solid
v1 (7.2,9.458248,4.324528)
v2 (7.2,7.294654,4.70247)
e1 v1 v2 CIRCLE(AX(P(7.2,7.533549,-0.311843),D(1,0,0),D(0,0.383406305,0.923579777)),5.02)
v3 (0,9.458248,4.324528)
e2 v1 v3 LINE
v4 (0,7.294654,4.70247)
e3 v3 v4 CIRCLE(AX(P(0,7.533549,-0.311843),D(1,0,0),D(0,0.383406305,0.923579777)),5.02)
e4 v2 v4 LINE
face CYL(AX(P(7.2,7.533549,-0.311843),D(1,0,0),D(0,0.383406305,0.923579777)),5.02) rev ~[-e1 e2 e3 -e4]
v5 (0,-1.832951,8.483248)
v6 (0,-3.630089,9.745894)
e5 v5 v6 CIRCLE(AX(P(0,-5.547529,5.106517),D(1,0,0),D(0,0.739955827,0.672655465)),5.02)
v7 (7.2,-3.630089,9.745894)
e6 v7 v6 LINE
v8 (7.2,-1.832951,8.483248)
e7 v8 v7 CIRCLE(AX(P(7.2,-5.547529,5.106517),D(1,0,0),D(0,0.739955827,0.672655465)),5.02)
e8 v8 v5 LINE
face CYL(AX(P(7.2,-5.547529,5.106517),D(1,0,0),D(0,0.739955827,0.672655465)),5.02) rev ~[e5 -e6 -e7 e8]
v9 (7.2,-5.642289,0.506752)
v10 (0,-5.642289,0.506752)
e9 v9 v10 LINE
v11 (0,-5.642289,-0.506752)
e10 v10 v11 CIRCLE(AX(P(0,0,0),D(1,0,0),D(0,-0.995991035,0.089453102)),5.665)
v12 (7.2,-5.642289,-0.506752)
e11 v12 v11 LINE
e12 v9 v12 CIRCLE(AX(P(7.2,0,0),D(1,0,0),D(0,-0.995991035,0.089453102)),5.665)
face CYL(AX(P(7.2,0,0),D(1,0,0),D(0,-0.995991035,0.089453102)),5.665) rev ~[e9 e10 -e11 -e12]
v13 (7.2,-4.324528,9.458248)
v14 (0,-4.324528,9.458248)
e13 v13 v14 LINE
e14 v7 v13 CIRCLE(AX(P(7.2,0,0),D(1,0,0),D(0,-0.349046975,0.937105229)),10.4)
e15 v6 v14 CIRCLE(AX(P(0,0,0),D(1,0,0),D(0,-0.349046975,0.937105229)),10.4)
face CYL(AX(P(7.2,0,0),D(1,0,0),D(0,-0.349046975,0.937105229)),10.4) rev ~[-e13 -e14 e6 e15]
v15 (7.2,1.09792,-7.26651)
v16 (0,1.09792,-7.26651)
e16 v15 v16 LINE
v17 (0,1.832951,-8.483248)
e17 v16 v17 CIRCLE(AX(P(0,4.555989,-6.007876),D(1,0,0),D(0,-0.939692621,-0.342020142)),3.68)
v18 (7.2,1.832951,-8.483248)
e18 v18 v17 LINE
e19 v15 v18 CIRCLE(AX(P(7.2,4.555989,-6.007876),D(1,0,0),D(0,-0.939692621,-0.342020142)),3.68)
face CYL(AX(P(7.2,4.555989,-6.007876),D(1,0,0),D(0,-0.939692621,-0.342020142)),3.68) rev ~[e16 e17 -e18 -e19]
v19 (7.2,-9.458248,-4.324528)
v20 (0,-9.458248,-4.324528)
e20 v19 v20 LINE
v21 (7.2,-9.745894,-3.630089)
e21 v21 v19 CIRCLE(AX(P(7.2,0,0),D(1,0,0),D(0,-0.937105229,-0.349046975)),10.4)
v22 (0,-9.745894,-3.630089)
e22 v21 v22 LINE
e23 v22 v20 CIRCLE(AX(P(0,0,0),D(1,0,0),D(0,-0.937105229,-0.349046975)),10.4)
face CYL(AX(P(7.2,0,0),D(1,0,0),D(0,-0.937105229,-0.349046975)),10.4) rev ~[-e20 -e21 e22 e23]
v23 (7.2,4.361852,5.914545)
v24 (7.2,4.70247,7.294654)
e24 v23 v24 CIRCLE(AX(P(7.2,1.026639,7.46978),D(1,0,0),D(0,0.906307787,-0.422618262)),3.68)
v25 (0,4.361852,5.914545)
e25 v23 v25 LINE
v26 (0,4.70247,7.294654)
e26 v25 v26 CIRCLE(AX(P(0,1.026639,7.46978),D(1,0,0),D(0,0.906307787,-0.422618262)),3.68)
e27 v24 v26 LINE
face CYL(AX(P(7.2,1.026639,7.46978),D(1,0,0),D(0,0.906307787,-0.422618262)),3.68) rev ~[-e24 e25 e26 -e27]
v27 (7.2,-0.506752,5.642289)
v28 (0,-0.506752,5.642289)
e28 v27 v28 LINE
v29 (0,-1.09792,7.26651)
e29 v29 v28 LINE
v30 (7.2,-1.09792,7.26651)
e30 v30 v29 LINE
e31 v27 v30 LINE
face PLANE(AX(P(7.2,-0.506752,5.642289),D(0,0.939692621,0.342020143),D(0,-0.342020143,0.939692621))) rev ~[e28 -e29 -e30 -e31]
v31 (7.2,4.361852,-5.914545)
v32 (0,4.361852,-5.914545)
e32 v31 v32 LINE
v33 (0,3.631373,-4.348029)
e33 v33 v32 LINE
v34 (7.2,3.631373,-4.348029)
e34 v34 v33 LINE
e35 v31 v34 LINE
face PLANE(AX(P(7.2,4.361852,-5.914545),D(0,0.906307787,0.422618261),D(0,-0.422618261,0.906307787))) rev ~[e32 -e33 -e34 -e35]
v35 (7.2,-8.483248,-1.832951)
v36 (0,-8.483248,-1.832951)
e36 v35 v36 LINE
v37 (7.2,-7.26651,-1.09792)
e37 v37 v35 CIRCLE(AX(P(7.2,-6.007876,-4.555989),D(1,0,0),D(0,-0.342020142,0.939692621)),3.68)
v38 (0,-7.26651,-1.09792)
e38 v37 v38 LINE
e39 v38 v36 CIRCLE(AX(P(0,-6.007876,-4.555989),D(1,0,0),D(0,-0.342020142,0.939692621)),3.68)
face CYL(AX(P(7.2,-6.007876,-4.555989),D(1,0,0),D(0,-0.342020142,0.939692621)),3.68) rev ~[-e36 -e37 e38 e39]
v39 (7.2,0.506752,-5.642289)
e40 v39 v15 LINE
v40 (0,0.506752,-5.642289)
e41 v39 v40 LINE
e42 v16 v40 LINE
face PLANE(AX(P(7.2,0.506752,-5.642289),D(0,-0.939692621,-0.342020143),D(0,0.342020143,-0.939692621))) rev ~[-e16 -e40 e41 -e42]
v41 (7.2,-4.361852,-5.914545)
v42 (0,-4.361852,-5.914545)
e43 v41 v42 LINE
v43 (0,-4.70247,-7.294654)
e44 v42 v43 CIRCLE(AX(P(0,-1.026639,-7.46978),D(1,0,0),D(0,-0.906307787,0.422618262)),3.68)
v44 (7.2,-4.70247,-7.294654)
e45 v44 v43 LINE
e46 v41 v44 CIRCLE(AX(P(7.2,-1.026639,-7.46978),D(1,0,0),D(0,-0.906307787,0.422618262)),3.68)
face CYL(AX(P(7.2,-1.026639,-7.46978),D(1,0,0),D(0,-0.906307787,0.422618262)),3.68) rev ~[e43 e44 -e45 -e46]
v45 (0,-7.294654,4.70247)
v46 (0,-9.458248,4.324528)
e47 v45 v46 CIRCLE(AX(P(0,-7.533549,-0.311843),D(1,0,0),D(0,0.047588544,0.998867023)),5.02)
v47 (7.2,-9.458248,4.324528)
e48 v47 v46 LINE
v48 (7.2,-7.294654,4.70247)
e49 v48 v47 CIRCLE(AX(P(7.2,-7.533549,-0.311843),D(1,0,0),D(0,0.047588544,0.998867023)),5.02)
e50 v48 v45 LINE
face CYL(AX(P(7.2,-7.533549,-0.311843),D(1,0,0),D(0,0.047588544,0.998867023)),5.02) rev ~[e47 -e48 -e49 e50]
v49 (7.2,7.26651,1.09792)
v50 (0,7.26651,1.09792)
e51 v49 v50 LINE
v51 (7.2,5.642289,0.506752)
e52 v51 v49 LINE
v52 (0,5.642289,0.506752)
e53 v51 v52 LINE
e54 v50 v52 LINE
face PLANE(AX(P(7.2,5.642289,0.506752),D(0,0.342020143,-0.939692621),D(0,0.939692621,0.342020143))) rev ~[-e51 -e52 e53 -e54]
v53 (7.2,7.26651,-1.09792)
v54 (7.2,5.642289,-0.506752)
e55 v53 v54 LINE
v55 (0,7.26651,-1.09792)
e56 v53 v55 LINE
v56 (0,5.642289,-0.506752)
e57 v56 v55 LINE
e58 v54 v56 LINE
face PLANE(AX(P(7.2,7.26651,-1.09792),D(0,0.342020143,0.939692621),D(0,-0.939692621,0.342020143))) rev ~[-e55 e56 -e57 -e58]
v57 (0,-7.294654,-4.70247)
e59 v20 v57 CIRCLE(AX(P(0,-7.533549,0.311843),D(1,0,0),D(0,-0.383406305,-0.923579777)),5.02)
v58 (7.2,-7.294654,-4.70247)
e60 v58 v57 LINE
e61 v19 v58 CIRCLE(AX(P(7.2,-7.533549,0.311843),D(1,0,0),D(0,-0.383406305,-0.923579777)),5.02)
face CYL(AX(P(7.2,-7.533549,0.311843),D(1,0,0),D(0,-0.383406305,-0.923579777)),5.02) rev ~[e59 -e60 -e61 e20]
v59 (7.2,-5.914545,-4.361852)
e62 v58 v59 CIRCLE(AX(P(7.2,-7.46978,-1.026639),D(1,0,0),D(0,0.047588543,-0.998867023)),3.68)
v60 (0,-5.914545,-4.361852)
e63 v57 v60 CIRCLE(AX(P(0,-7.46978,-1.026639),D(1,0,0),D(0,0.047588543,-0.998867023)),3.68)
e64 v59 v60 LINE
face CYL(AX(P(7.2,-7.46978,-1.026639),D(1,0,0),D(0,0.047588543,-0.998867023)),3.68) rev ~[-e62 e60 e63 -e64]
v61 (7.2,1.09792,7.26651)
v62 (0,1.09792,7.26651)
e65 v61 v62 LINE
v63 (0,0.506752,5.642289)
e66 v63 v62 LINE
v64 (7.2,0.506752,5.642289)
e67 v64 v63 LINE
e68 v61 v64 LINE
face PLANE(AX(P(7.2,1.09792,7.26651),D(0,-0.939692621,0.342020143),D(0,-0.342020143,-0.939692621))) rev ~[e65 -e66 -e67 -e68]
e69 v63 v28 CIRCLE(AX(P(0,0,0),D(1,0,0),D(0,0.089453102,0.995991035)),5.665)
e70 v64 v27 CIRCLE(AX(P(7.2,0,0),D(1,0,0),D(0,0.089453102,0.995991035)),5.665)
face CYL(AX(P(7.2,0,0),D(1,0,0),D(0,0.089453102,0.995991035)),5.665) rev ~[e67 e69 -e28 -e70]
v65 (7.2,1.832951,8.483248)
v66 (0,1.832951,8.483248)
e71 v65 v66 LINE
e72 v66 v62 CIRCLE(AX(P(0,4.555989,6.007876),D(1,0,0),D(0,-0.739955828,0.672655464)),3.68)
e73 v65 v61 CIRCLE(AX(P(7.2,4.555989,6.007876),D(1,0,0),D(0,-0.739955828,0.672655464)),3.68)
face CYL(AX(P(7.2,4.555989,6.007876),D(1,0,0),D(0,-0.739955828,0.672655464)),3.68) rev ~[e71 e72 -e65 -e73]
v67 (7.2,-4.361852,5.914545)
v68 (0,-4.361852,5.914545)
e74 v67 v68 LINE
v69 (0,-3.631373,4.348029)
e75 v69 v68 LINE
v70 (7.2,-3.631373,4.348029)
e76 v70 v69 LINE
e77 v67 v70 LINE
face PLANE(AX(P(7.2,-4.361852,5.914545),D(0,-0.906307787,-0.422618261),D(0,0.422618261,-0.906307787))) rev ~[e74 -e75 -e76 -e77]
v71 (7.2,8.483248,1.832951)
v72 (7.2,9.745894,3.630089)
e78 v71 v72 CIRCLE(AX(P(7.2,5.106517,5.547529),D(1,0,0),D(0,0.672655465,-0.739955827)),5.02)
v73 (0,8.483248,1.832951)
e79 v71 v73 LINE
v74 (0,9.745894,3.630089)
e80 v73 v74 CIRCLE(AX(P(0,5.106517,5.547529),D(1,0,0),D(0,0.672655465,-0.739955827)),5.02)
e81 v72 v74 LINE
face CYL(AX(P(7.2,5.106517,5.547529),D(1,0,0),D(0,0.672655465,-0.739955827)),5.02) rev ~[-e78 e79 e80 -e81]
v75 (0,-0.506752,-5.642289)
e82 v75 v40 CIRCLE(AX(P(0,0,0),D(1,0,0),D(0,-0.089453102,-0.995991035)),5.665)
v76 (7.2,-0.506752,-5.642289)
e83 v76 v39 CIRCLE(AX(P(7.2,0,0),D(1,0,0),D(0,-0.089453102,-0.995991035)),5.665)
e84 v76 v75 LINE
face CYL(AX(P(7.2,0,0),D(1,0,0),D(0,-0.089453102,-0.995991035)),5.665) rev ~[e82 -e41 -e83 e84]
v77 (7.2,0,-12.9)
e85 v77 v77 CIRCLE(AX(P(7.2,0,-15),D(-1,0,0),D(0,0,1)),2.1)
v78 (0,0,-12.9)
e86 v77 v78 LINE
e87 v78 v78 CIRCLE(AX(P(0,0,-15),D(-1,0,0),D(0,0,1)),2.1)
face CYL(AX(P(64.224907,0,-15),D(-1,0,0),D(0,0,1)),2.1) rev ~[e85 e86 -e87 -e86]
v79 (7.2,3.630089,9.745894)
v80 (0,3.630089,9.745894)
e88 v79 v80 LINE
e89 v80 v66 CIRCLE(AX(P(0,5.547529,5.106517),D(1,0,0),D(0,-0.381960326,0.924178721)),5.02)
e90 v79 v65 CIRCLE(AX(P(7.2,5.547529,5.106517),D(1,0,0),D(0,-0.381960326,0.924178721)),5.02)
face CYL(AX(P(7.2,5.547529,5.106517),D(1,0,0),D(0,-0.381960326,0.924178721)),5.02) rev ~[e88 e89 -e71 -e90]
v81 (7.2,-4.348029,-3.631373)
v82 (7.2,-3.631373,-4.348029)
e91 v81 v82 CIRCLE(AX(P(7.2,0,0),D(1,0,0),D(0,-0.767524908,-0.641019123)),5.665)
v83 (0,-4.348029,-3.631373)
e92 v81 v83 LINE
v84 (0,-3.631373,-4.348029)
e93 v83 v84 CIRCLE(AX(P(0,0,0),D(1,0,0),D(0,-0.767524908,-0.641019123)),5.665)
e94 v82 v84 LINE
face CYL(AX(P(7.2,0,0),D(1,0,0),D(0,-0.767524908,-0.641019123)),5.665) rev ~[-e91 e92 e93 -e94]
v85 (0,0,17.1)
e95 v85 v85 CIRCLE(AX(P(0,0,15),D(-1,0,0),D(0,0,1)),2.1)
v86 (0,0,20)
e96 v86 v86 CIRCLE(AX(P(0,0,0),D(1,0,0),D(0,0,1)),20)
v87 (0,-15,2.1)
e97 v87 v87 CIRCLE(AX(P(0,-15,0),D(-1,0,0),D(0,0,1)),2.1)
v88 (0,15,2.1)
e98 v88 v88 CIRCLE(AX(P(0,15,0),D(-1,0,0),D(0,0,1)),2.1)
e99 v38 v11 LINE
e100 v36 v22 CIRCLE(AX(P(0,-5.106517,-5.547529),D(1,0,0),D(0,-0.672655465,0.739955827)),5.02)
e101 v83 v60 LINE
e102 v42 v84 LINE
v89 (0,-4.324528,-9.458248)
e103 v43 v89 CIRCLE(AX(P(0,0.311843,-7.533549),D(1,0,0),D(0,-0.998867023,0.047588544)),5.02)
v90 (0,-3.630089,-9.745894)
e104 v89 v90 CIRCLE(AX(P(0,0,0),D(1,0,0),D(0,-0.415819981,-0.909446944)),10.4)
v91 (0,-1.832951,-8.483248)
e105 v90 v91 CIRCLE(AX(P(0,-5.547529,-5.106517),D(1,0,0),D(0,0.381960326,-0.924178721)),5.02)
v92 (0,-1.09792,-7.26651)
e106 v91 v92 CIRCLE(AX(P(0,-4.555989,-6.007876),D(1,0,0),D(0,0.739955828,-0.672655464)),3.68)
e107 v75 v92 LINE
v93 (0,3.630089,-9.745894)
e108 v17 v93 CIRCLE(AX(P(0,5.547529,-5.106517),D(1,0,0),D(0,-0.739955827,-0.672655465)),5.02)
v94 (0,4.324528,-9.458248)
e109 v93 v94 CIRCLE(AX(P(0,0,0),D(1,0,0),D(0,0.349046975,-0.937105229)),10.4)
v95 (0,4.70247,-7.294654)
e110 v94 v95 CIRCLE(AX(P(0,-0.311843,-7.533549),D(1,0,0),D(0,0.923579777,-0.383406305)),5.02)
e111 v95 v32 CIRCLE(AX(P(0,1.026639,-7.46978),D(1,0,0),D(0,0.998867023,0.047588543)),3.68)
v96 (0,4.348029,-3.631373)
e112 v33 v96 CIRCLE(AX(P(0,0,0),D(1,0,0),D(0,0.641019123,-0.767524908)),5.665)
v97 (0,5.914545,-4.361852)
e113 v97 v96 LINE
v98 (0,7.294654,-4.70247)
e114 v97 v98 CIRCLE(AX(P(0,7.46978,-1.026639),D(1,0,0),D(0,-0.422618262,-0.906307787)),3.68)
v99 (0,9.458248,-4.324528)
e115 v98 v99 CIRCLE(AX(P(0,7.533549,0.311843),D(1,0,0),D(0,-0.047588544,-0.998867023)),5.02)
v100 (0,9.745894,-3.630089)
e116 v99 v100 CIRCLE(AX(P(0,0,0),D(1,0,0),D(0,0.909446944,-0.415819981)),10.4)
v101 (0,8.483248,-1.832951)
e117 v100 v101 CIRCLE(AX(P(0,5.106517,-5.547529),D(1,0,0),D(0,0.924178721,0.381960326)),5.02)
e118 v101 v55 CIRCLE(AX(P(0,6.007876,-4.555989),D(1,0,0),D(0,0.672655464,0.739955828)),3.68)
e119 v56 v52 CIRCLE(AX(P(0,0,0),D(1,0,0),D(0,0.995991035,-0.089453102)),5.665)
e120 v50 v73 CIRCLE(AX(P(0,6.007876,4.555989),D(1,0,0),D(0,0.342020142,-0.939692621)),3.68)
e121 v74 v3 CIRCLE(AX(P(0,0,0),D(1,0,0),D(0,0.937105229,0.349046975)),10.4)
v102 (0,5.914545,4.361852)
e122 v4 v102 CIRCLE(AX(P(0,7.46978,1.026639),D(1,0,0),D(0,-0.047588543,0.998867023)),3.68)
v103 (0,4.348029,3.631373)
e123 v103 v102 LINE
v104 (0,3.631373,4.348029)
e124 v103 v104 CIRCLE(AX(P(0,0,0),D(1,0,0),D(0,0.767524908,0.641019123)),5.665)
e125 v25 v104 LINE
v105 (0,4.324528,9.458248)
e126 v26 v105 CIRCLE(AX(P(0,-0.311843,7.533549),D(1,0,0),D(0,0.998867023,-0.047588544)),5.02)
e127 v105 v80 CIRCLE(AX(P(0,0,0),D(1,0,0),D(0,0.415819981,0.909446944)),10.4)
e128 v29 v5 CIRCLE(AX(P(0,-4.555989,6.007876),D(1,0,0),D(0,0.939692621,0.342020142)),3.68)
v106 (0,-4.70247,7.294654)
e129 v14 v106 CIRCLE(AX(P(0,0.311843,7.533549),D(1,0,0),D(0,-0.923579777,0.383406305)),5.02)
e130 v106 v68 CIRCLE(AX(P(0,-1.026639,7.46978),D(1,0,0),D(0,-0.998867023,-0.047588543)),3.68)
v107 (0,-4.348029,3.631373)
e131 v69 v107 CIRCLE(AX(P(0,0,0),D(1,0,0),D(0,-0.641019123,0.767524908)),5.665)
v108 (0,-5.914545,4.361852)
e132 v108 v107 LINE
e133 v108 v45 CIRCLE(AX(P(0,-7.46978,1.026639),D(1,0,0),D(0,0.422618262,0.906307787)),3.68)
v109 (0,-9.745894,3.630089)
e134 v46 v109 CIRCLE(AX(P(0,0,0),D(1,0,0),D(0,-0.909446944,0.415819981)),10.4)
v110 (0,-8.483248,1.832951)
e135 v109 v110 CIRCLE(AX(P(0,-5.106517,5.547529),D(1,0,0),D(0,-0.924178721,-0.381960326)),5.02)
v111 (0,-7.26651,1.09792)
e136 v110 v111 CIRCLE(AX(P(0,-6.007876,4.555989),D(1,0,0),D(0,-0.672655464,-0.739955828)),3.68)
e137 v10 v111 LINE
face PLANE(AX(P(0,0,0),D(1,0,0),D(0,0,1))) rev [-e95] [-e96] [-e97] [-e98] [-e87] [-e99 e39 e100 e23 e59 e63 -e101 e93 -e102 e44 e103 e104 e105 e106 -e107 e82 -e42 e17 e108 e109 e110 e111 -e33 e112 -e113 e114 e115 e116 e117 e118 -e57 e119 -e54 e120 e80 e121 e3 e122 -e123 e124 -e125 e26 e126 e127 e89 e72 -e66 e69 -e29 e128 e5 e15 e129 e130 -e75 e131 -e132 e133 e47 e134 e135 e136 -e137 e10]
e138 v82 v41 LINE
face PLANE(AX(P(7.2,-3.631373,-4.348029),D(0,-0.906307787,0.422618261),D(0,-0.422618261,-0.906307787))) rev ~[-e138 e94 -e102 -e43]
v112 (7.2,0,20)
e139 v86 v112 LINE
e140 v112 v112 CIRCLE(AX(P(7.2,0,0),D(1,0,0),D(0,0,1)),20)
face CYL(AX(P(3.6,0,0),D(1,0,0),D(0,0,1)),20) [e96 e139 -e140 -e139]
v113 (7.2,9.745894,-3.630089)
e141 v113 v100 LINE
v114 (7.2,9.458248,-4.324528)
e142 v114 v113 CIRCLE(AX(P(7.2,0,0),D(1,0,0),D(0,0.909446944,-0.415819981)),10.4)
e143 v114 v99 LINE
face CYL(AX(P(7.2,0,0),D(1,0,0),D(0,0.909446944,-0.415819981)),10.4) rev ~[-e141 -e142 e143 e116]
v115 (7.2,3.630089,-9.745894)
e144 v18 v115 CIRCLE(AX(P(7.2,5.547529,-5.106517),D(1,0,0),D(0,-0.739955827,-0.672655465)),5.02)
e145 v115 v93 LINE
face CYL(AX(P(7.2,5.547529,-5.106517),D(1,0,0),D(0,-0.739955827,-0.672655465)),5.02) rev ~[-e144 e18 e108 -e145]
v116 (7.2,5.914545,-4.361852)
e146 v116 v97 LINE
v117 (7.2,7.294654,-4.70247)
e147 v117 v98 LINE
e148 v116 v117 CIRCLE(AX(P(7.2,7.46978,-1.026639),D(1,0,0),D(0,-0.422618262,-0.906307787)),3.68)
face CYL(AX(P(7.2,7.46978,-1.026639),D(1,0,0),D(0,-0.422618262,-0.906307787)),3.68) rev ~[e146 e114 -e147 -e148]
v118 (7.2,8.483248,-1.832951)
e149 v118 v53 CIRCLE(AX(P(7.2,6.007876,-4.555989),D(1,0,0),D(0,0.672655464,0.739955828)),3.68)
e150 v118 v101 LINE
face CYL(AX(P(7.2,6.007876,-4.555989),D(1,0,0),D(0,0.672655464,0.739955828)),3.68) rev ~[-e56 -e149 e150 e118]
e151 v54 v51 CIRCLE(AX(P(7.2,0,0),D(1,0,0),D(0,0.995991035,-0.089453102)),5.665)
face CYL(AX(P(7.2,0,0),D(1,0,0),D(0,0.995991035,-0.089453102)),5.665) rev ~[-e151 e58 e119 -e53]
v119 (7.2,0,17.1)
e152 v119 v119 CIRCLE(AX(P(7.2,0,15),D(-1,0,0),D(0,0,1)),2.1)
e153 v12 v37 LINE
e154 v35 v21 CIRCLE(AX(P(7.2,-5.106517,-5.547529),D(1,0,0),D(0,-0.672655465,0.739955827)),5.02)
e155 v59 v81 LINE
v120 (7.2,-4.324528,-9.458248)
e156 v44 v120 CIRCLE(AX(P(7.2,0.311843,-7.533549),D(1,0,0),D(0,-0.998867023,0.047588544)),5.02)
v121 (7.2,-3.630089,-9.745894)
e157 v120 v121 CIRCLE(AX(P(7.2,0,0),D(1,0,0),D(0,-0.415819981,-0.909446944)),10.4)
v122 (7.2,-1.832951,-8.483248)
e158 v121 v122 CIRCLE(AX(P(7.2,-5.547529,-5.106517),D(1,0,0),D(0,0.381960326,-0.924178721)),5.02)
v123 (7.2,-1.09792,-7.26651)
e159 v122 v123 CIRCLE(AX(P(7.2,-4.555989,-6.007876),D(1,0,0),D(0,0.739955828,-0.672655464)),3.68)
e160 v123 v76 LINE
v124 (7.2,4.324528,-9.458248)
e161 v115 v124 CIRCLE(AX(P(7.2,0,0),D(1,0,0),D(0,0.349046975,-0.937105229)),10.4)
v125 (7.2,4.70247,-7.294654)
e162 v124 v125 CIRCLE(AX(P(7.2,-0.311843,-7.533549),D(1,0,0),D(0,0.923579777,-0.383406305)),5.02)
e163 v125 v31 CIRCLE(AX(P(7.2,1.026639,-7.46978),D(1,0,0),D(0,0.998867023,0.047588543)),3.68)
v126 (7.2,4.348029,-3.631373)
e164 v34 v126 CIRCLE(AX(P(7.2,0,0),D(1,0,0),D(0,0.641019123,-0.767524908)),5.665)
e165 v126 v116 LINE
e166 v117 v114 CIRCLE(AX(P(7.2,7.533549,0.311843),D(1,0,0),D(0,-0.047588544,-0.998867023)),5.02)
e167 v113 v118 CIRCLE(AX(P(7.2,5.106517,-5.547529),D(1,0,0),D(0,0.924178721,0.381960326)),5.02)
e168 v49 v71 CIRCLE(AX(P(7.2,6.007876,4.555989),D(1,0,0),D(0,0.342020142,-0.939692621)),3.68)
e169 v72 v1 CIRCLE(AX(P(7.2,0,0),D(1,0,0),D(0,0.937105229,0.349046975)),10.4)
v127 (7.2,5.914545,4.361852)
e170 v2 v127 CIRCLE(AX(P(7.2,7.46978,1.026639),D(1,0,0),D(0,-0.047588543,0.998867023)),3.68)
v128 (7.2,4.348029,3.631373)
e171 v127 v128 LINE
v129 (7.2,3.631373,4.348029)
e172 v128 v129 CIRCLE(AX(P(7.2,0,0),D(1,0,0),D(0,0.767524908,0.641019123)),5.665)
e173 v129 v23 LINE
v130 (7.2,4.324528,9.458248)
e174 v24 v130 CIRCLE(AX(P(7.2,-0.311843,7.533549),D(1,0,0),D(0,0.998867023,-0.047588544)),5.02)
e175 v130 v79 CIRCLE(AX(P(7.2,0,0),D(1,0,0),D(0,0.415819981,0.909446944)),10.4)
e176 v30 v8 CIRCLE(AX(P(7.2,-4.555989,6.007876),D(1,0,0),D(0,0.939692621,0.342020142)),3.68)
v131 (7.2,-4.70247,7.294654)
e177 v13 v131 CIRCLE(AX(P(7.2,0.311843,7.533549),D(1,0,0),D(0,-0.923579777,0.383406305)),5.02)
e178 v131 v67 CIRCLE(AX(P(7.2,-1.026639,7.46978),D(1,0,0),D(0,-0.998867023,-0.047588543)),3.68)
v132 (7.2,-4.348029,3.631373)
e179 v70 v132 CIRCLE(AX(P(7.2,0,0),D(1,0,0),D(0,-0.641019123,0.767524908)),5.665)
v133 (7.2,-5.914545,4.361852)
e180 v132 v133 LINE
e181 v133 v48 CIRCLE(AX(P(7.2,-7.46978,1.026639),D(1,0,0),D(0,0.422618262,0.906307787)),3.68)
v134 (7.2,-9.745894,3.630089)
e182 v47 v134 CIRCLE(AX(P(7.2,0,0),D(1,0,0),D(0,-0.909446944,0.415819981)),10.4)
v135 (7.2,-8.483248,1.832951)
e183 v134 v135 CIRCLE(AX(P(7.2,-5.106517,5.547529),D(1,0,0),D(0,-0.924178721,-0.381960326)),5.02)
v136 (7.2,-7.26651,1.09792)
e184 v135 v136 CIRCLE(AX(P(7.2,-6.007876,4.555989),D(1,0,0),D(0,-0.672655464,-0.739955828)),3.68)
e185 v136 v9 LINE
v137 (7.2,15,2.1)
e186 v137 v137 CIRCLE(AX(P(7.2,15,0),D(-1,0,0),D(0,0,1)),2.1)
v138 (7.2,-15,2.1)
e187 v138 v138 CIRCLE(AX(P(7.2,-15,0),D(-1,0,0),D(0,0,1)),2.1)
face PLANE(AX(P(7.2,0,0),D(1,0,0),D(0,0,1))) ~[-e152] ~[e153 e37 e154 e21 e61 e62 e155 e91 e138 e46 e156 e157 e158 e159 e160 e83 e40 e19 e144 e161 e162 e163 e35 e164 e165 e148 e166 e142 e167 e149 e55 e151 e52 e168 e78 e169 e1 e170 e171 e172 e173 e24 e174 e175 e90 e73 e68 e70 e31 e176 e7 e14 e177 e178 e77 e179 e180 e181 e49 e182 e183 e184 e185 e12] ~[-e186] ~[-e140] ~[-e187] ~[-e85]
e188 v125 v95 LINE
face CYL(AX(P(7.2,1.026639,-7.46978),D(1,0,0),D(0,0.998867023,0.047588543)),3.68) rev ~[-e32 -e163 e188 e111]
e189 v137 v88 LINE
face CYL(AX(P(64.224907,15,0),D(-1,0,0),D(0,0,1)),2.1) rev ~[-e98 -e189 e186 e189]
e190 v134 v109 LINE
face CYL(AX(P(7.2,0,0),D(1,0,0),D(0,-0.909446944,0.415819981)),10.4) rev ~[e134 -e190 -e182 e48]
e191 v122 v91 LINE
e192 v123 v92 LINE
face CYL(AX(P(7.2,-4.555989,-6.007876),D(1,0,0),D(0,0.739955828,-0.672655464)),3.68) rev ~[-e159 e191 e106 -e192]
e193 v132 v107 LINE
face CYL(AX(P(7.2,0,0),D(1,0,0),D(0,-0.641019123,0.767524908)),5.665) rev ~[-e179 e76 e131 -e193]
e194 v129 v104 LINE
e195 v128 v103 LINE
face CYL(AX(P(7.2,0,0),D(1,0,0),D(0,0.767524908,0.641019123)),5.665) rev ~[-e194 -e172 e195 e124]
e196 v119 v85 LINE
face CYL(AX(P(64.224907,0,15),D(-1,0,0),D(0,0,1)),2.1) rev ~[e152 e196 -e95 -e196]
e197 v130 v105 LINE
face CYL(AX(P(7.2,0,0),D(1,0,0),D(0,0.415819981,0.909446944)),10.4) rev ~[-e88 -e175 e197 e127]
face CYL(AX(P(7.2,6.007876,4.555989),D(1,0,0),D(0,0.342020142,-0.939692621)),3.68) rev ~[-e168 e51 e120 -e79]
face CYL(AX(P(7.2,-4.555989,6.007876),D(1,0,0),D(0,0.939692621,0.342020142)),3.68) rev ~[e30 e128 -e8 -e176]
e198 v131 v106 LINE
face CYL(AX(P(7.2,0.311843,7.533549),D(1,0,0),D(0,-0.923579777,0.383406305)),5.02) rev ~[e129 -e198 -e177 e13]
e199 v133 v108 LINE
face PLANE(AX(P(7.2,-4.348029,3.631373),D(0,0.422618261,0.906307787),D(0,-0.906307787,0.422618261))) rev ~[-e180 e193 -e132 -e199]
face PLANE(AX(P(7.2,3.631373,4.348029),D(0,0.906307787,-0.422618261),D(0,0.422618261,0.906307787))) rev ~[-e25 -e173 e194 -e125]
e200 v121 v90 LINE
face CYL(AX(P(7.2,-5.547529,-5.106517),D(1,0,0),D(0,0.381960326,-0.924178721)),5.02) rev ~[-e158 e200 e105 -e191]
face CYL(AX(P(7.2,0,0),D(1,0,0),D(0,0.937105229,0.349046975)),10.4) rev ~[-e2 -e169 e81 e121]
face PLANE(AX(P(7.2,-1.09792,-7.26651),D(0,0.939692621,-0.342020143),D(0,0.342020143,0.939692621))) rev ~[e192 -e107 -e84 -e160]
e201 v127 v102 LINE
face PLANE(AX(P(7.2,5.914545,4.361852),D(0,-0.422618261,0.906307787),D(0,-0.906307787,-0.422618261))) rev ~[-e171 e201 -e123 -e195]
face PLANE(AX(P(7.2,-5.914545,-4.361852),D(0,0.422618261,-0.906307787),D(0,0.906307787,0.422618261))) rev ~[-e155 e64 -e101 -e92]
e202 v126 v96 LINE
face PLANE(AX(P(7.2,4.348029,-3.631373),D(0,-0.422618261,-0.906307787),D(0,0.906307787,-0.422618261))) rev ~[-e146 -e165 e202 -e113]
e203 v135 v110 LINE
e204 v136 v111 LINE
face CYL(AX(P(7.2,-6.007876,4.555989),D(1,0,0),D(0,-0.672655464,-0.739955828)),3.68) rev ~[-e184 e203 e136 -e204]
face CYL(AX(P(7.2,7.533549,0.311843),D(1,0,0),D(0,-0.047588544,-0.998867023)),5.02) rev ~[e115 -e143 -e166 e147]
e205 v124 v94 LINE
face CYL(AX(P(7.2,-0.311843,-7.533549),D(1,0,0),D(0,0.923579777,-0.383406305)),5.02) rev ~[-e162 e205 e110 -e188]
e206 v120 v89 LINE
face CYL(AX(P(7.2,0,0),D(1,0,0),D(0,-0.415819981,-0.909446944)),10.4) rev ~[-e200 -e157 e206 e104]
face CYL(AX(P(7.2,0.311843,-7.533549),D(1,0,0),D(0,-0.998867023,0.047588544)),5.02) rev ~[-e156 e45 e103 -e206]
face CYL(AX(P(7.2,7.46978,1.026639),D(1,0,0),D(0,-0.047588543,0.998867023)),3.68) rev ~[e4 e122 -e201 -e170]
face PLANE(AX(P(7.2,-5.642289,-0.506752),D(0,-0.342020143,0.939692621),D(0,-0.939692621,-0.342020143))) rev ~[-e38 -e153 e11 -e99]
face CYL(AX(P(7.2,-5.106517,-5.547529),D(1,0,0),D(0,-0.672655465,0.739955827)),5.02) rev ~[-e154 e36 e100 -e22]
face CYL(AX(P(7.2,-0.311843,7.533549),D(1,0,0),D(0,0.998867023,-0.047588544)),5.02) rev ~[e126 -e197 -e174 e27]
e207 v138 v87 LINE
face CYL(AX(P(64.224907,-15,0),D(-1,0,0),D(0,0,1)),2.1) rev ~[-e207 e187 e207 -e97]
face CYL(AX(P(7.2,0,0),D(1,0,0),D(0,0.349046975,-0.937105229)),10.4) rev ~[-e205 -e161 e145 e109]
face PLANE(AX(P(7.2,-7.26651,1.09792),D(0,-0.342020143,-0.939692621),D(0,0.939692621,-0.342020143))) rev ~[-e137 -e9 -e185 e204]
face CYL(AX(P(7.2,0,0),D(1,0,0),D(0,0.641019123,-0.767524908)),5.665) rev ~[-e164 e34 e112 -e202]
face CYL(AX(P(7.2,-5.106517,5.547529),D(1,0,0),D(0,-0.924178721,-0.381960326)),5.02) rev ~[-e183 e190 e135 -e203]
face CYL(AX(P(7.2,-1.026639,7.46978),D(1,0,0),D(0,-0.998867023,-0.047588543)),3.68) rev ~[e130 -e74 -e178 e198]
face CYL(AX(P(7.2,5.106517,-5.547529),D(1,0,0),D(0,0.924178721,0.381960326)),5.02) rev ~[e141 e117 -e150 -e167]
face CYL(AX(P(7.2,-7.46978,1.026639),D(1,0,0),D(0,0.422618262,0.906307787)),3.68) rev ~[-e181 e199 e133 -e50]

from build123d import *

# Parameters (mm, degrees)
ESBO_O1_W             = 7.2
ESBO_O1_H             = 20
CORTE_EXTRUS_O2_DEPTH = 30.186298155
FURO_ROSCADO_DE_M51_D = 4.2


with BuildPart() as part:
    # Esboço1 → Revolução1 (revolve)
    with BuildSketch(Plane.XY, mode=Mode.PRIVATE) as revolu_o1_sk:
        with Locations((3.6, 10)):
            Rectangle(ESBO_O1_W, ESBO_O1_H)
    revolve(revolu_o1_sk.sketch.rotate(Axis((-35, 0, 0), (1, 0, 0)), 90), axis=Axis((-35, 0, 0), (1, 0, 0)))

    # Esboço3 → Corte-extrusão2 (cut, through all)
    with BuildSketch(Plane(origin=(7.2, 0, 0), x_dir=(0, 0, -1), z_dir=(1, 0, 0))):
        with BuildLine():
            Line((-0.506751832, 5.642289215), (-1.097919721, 7.266509641))
            ThreePointArc((-1.097919721, 7.266509641), (-1.406126414, 7.910707201), (-1.832951119, 8.483247621))
            ThreePointArc((-1.832951119, 8.483247621), (-2.661618953, 9.214061597), (-3.630088541, 9.745894376))
            ThreePointArc((-3.630088541, 9.745894376), (-3.979907697, 9.608347138), (-4.324527778, 9.458248225))
            ThreePointArc((-4.324527778, 9.458248225), (-4.633276627, 8.397374248), (-4.702469753, 7.294654085))
            ThreePointArc((-4.702469753, 7.294654085), (-4.599433183, 6.587996228), (-4.361851763, 5.914544723))
            Line((-4.361851763, 5.914544723), (-3.631373309, 4.348028622))
            ThreePointArc((-3.631373309, 4.348028622), (-4.005759915, 4.005759915), (-4.348028622, 3.631373309))
            Line((-4.348028622, 3.631373309), (-5.914544723, 4.361851763))
            ThreePointArc((-5.914544723, 4.361851763), (-6.587996228, 4.599433183), (-7.294654085, 4.702469753))
            ThreePointArc((-7.294654085, 4.702469753), (-8.397374248, 4.633276627), (-9.458248225, 4.324527778))
            ThreePointArc((-9.458248225, 4.324527778), (-9.608347138, 3.979907697), (-9.745894376, 3.630088541))
            ThreePointArc((-9.745894376, 3.630088541), (-9.214061597, 2.661618953), (-8.483247621, 1.832951119))
            ThreePointArc((-8.483247621, 1.832951119), (-7.910707201, 1.406126414), (-7.266509641, 1.097919721))
            Line((-7.266509641, 1.097919721), (-5.642289215, 0.506751832))
            ThreePointArc((-5.642289215, 0.506751832), (-5.665, 0), (-5.642289215, -0.506751832))
            Line((-5.642289215, -0.506751832), (-7.266509641, -1.097919721))
            ThreePointArc((-7.266509641, -1.097919721), (-7.910707201, -1.406126414), (-8.483247621, -1.832951119))
            ThreePointArc((-8.483247621, -1.832951119), (-9.214061597, -2.661618953), (-9.745894376, -3.630088541))
            ThreePointArc((-9.745894376, -3.630088541), (-9.608347138, -3.979907697), (-9.458248225, -4.324527778))
            ThreePointArc((-9.458248225, -4.324527778), (-8.397374248, -4.633276627), (-7.294654085, -4.702469753))
            ThreePointArc((-7.294654085, -4.702469753), (-6.587996228, -4.599433183), (-5.914544723, -4.361851763))
            Line((-5.914544723, -4.361851763), (-4.348028622, -3.631373309))
            ThreePointArc((-4.348028622, -3.631373309), (-4.005759915, -4.005759915), (-3.631373309, -4.348028622))
            Line((-3.631373309, -4.348028622), (-4.361851763, -5.914544723))
            ThreePointArc((-4.361851763, -5.914544723), (-4.599433183, -6.587996228), (-4.702469753, -7.294654085))
            ThreePointArc((-4.702469753, -7.294654085), (-4.633276627, -8.397374248), (-4.324527778, -9.458248225))
            ThreePointArc((-4.324527778, -9.458248225), (-3.979907697, -9.608347138), (-3.630088541, -9.745894376))
            ThreePointArc((-3.630088541, -9.745894376), (-2.661618953, -9.214061597), (-1.832951119, -8.483247621))
            ThreePointArc((-1.832951119, -8.483247621), (-1.406126414, -7.910707201), (-1.097919721, -7.266509641))
            Line((-1.097919721, -7.266509641), (-0.506751832, -5.642289215))
            ThreePointArc((-0.506751832, -5.642289215), (0, -5.665), (0.506751832, -5.642289215))
            Line((0.506751832, -5.642289215), (1.097919721, -7.266509641))
            ThreePointArc((1.097919721, -7.266509641), (1.406126414, -7.910707201), (1.832951119, -8.483247621))
            ThreePointArc((1.832951119, -8.483247621), (2.661618953, -9.214061597), (3.630088541, -9.745894376))
            ThreePointArc((3.630088541, -9.745894376), (3.979907697, -9.608347138), (4.324527778, -9.458248225))
            ThreePointArc((4.324527778, -9.458248225), (4.633276627, -8.397374248), (4.702469753, -7.294654085))
            ThreePointArc((4.702469753, -7.294654085), (4.599433183, -6.587996228), (4.361851763, -5.914544723))
            Line((4.361851763, -5.914544723), (3.631373309, -4.348028622))
            ThreePointArc((3.631373309, -4.348028622), (4.005759915, -4.005759915), (4.348028622, -3.631373309))
            Line((4.348028622, -3.631373309), (5.914544723, -4.361851763))
            ThreePointArc((5.914544723, -4.361851763), (6.587996228, -4.599433183), (7.294654085, -4.702469753))
            ThreePointArc((7.294654085, -4.702469753), (8.397374248, -4.633276627), (9.458248225, -4.324527778))
            ThreePointArc((9.458248225, -4.324527778), (9.608347138, -3.979907697), (9.745894376, -3.630088541))
            ThreePointArc((9.745894376, -3.630088541), (9.214061597, -2.661618953), (8.483247621, -1.832951119))
            ThreePointArc((8.483247621, -1.832951119), (7.910707201, -1.406126414), (7.266509641, -1.097919721))
            Line((7.266509641, -1.097919721), (5.642289215, -0.506751832))
            ThreePointArc((5.642289215, -0.506751832), (5.665, 0), (5.642289215, 0.506751832))
            Line((5.642289215, 0.506751832), (7.266509641, 1.097919721))
            ThreePointArc((7.266509641, 1.097919721), (7.910707201, 1.406126414), (8.483247621, 1.832951119))
            ThreePointArc((8.483247621, 1.832951119), (9.214061597, 2.661618953), (9.745894376, 3.630088541))
            ThreePointArc((9.745894376, 3.630088541), (9.608347138, 3.979907697), (9.458248225, 4.324527778))
            ThreePointArc((9.458248225, 4.324527778), (8.397374248, 4.633276627), (7.294654085, 4.702469753))
            ThreePointArc((7.294654085, 4.702469753), (6.587996228, 4.599433183), (5.914544723, 4.361851763))
            Line((5.914544723, 4.361851763), (4.348028622, 3.631373309))
            ThreePointArc((4.348028622, 3.631373309), (4.005759915, 4.005759915), (3.631373309, 4.348028622))
            Line((3.631373309, 4.348028622), (4.361851763, 5.914544723))
            ThreePointArc((4.361851763, 5.914544723), (4.599433183, 6.587996228), (4.702469753, 7.294654085))
            ThreePointArc((4.702469753, 7.294654085), (4.633276627, 8.397374248), (4.324527778, 9.458248225))
            ThreePointArc((4.324527778, 9.458248225), (3.979907697, 9.608347138), (3.630088541, 9.745894376))
            ThreePointArc((3.630088541, 9.745894376), (2.661618953, 9.214061597), (1.832951119, 8.483247621))
            ThreePointArc((1.832951119, 8.483247621), (1.406126414, 7.910707201), (1.097919721, 7.266509641))
            Line((1.097919721, 7.266509641), (0.506751832, 5.642289215))
            ThreePointArc((0.506751832, 5.642289215), (0, 5.665), (-0.506751832, 5.642289215))
        make_face()
    extrude(amount=-CORTE_EXTRUS_O2_DEPTH, mode=Mode.SUBTRACT)

    # Furo roscado de M51 (through all)
    with Locations(Plane(origin=(7.2, 0, 0), x_dir=(0, 0, -1), z_dir=(1, 0, 0))):
        with Locations((0, 15), (15, 0), (0, -15), (-15, 0)):
            Hole(FURO_ROSCADO_DE_M51_D / 2)


solid = part.part
